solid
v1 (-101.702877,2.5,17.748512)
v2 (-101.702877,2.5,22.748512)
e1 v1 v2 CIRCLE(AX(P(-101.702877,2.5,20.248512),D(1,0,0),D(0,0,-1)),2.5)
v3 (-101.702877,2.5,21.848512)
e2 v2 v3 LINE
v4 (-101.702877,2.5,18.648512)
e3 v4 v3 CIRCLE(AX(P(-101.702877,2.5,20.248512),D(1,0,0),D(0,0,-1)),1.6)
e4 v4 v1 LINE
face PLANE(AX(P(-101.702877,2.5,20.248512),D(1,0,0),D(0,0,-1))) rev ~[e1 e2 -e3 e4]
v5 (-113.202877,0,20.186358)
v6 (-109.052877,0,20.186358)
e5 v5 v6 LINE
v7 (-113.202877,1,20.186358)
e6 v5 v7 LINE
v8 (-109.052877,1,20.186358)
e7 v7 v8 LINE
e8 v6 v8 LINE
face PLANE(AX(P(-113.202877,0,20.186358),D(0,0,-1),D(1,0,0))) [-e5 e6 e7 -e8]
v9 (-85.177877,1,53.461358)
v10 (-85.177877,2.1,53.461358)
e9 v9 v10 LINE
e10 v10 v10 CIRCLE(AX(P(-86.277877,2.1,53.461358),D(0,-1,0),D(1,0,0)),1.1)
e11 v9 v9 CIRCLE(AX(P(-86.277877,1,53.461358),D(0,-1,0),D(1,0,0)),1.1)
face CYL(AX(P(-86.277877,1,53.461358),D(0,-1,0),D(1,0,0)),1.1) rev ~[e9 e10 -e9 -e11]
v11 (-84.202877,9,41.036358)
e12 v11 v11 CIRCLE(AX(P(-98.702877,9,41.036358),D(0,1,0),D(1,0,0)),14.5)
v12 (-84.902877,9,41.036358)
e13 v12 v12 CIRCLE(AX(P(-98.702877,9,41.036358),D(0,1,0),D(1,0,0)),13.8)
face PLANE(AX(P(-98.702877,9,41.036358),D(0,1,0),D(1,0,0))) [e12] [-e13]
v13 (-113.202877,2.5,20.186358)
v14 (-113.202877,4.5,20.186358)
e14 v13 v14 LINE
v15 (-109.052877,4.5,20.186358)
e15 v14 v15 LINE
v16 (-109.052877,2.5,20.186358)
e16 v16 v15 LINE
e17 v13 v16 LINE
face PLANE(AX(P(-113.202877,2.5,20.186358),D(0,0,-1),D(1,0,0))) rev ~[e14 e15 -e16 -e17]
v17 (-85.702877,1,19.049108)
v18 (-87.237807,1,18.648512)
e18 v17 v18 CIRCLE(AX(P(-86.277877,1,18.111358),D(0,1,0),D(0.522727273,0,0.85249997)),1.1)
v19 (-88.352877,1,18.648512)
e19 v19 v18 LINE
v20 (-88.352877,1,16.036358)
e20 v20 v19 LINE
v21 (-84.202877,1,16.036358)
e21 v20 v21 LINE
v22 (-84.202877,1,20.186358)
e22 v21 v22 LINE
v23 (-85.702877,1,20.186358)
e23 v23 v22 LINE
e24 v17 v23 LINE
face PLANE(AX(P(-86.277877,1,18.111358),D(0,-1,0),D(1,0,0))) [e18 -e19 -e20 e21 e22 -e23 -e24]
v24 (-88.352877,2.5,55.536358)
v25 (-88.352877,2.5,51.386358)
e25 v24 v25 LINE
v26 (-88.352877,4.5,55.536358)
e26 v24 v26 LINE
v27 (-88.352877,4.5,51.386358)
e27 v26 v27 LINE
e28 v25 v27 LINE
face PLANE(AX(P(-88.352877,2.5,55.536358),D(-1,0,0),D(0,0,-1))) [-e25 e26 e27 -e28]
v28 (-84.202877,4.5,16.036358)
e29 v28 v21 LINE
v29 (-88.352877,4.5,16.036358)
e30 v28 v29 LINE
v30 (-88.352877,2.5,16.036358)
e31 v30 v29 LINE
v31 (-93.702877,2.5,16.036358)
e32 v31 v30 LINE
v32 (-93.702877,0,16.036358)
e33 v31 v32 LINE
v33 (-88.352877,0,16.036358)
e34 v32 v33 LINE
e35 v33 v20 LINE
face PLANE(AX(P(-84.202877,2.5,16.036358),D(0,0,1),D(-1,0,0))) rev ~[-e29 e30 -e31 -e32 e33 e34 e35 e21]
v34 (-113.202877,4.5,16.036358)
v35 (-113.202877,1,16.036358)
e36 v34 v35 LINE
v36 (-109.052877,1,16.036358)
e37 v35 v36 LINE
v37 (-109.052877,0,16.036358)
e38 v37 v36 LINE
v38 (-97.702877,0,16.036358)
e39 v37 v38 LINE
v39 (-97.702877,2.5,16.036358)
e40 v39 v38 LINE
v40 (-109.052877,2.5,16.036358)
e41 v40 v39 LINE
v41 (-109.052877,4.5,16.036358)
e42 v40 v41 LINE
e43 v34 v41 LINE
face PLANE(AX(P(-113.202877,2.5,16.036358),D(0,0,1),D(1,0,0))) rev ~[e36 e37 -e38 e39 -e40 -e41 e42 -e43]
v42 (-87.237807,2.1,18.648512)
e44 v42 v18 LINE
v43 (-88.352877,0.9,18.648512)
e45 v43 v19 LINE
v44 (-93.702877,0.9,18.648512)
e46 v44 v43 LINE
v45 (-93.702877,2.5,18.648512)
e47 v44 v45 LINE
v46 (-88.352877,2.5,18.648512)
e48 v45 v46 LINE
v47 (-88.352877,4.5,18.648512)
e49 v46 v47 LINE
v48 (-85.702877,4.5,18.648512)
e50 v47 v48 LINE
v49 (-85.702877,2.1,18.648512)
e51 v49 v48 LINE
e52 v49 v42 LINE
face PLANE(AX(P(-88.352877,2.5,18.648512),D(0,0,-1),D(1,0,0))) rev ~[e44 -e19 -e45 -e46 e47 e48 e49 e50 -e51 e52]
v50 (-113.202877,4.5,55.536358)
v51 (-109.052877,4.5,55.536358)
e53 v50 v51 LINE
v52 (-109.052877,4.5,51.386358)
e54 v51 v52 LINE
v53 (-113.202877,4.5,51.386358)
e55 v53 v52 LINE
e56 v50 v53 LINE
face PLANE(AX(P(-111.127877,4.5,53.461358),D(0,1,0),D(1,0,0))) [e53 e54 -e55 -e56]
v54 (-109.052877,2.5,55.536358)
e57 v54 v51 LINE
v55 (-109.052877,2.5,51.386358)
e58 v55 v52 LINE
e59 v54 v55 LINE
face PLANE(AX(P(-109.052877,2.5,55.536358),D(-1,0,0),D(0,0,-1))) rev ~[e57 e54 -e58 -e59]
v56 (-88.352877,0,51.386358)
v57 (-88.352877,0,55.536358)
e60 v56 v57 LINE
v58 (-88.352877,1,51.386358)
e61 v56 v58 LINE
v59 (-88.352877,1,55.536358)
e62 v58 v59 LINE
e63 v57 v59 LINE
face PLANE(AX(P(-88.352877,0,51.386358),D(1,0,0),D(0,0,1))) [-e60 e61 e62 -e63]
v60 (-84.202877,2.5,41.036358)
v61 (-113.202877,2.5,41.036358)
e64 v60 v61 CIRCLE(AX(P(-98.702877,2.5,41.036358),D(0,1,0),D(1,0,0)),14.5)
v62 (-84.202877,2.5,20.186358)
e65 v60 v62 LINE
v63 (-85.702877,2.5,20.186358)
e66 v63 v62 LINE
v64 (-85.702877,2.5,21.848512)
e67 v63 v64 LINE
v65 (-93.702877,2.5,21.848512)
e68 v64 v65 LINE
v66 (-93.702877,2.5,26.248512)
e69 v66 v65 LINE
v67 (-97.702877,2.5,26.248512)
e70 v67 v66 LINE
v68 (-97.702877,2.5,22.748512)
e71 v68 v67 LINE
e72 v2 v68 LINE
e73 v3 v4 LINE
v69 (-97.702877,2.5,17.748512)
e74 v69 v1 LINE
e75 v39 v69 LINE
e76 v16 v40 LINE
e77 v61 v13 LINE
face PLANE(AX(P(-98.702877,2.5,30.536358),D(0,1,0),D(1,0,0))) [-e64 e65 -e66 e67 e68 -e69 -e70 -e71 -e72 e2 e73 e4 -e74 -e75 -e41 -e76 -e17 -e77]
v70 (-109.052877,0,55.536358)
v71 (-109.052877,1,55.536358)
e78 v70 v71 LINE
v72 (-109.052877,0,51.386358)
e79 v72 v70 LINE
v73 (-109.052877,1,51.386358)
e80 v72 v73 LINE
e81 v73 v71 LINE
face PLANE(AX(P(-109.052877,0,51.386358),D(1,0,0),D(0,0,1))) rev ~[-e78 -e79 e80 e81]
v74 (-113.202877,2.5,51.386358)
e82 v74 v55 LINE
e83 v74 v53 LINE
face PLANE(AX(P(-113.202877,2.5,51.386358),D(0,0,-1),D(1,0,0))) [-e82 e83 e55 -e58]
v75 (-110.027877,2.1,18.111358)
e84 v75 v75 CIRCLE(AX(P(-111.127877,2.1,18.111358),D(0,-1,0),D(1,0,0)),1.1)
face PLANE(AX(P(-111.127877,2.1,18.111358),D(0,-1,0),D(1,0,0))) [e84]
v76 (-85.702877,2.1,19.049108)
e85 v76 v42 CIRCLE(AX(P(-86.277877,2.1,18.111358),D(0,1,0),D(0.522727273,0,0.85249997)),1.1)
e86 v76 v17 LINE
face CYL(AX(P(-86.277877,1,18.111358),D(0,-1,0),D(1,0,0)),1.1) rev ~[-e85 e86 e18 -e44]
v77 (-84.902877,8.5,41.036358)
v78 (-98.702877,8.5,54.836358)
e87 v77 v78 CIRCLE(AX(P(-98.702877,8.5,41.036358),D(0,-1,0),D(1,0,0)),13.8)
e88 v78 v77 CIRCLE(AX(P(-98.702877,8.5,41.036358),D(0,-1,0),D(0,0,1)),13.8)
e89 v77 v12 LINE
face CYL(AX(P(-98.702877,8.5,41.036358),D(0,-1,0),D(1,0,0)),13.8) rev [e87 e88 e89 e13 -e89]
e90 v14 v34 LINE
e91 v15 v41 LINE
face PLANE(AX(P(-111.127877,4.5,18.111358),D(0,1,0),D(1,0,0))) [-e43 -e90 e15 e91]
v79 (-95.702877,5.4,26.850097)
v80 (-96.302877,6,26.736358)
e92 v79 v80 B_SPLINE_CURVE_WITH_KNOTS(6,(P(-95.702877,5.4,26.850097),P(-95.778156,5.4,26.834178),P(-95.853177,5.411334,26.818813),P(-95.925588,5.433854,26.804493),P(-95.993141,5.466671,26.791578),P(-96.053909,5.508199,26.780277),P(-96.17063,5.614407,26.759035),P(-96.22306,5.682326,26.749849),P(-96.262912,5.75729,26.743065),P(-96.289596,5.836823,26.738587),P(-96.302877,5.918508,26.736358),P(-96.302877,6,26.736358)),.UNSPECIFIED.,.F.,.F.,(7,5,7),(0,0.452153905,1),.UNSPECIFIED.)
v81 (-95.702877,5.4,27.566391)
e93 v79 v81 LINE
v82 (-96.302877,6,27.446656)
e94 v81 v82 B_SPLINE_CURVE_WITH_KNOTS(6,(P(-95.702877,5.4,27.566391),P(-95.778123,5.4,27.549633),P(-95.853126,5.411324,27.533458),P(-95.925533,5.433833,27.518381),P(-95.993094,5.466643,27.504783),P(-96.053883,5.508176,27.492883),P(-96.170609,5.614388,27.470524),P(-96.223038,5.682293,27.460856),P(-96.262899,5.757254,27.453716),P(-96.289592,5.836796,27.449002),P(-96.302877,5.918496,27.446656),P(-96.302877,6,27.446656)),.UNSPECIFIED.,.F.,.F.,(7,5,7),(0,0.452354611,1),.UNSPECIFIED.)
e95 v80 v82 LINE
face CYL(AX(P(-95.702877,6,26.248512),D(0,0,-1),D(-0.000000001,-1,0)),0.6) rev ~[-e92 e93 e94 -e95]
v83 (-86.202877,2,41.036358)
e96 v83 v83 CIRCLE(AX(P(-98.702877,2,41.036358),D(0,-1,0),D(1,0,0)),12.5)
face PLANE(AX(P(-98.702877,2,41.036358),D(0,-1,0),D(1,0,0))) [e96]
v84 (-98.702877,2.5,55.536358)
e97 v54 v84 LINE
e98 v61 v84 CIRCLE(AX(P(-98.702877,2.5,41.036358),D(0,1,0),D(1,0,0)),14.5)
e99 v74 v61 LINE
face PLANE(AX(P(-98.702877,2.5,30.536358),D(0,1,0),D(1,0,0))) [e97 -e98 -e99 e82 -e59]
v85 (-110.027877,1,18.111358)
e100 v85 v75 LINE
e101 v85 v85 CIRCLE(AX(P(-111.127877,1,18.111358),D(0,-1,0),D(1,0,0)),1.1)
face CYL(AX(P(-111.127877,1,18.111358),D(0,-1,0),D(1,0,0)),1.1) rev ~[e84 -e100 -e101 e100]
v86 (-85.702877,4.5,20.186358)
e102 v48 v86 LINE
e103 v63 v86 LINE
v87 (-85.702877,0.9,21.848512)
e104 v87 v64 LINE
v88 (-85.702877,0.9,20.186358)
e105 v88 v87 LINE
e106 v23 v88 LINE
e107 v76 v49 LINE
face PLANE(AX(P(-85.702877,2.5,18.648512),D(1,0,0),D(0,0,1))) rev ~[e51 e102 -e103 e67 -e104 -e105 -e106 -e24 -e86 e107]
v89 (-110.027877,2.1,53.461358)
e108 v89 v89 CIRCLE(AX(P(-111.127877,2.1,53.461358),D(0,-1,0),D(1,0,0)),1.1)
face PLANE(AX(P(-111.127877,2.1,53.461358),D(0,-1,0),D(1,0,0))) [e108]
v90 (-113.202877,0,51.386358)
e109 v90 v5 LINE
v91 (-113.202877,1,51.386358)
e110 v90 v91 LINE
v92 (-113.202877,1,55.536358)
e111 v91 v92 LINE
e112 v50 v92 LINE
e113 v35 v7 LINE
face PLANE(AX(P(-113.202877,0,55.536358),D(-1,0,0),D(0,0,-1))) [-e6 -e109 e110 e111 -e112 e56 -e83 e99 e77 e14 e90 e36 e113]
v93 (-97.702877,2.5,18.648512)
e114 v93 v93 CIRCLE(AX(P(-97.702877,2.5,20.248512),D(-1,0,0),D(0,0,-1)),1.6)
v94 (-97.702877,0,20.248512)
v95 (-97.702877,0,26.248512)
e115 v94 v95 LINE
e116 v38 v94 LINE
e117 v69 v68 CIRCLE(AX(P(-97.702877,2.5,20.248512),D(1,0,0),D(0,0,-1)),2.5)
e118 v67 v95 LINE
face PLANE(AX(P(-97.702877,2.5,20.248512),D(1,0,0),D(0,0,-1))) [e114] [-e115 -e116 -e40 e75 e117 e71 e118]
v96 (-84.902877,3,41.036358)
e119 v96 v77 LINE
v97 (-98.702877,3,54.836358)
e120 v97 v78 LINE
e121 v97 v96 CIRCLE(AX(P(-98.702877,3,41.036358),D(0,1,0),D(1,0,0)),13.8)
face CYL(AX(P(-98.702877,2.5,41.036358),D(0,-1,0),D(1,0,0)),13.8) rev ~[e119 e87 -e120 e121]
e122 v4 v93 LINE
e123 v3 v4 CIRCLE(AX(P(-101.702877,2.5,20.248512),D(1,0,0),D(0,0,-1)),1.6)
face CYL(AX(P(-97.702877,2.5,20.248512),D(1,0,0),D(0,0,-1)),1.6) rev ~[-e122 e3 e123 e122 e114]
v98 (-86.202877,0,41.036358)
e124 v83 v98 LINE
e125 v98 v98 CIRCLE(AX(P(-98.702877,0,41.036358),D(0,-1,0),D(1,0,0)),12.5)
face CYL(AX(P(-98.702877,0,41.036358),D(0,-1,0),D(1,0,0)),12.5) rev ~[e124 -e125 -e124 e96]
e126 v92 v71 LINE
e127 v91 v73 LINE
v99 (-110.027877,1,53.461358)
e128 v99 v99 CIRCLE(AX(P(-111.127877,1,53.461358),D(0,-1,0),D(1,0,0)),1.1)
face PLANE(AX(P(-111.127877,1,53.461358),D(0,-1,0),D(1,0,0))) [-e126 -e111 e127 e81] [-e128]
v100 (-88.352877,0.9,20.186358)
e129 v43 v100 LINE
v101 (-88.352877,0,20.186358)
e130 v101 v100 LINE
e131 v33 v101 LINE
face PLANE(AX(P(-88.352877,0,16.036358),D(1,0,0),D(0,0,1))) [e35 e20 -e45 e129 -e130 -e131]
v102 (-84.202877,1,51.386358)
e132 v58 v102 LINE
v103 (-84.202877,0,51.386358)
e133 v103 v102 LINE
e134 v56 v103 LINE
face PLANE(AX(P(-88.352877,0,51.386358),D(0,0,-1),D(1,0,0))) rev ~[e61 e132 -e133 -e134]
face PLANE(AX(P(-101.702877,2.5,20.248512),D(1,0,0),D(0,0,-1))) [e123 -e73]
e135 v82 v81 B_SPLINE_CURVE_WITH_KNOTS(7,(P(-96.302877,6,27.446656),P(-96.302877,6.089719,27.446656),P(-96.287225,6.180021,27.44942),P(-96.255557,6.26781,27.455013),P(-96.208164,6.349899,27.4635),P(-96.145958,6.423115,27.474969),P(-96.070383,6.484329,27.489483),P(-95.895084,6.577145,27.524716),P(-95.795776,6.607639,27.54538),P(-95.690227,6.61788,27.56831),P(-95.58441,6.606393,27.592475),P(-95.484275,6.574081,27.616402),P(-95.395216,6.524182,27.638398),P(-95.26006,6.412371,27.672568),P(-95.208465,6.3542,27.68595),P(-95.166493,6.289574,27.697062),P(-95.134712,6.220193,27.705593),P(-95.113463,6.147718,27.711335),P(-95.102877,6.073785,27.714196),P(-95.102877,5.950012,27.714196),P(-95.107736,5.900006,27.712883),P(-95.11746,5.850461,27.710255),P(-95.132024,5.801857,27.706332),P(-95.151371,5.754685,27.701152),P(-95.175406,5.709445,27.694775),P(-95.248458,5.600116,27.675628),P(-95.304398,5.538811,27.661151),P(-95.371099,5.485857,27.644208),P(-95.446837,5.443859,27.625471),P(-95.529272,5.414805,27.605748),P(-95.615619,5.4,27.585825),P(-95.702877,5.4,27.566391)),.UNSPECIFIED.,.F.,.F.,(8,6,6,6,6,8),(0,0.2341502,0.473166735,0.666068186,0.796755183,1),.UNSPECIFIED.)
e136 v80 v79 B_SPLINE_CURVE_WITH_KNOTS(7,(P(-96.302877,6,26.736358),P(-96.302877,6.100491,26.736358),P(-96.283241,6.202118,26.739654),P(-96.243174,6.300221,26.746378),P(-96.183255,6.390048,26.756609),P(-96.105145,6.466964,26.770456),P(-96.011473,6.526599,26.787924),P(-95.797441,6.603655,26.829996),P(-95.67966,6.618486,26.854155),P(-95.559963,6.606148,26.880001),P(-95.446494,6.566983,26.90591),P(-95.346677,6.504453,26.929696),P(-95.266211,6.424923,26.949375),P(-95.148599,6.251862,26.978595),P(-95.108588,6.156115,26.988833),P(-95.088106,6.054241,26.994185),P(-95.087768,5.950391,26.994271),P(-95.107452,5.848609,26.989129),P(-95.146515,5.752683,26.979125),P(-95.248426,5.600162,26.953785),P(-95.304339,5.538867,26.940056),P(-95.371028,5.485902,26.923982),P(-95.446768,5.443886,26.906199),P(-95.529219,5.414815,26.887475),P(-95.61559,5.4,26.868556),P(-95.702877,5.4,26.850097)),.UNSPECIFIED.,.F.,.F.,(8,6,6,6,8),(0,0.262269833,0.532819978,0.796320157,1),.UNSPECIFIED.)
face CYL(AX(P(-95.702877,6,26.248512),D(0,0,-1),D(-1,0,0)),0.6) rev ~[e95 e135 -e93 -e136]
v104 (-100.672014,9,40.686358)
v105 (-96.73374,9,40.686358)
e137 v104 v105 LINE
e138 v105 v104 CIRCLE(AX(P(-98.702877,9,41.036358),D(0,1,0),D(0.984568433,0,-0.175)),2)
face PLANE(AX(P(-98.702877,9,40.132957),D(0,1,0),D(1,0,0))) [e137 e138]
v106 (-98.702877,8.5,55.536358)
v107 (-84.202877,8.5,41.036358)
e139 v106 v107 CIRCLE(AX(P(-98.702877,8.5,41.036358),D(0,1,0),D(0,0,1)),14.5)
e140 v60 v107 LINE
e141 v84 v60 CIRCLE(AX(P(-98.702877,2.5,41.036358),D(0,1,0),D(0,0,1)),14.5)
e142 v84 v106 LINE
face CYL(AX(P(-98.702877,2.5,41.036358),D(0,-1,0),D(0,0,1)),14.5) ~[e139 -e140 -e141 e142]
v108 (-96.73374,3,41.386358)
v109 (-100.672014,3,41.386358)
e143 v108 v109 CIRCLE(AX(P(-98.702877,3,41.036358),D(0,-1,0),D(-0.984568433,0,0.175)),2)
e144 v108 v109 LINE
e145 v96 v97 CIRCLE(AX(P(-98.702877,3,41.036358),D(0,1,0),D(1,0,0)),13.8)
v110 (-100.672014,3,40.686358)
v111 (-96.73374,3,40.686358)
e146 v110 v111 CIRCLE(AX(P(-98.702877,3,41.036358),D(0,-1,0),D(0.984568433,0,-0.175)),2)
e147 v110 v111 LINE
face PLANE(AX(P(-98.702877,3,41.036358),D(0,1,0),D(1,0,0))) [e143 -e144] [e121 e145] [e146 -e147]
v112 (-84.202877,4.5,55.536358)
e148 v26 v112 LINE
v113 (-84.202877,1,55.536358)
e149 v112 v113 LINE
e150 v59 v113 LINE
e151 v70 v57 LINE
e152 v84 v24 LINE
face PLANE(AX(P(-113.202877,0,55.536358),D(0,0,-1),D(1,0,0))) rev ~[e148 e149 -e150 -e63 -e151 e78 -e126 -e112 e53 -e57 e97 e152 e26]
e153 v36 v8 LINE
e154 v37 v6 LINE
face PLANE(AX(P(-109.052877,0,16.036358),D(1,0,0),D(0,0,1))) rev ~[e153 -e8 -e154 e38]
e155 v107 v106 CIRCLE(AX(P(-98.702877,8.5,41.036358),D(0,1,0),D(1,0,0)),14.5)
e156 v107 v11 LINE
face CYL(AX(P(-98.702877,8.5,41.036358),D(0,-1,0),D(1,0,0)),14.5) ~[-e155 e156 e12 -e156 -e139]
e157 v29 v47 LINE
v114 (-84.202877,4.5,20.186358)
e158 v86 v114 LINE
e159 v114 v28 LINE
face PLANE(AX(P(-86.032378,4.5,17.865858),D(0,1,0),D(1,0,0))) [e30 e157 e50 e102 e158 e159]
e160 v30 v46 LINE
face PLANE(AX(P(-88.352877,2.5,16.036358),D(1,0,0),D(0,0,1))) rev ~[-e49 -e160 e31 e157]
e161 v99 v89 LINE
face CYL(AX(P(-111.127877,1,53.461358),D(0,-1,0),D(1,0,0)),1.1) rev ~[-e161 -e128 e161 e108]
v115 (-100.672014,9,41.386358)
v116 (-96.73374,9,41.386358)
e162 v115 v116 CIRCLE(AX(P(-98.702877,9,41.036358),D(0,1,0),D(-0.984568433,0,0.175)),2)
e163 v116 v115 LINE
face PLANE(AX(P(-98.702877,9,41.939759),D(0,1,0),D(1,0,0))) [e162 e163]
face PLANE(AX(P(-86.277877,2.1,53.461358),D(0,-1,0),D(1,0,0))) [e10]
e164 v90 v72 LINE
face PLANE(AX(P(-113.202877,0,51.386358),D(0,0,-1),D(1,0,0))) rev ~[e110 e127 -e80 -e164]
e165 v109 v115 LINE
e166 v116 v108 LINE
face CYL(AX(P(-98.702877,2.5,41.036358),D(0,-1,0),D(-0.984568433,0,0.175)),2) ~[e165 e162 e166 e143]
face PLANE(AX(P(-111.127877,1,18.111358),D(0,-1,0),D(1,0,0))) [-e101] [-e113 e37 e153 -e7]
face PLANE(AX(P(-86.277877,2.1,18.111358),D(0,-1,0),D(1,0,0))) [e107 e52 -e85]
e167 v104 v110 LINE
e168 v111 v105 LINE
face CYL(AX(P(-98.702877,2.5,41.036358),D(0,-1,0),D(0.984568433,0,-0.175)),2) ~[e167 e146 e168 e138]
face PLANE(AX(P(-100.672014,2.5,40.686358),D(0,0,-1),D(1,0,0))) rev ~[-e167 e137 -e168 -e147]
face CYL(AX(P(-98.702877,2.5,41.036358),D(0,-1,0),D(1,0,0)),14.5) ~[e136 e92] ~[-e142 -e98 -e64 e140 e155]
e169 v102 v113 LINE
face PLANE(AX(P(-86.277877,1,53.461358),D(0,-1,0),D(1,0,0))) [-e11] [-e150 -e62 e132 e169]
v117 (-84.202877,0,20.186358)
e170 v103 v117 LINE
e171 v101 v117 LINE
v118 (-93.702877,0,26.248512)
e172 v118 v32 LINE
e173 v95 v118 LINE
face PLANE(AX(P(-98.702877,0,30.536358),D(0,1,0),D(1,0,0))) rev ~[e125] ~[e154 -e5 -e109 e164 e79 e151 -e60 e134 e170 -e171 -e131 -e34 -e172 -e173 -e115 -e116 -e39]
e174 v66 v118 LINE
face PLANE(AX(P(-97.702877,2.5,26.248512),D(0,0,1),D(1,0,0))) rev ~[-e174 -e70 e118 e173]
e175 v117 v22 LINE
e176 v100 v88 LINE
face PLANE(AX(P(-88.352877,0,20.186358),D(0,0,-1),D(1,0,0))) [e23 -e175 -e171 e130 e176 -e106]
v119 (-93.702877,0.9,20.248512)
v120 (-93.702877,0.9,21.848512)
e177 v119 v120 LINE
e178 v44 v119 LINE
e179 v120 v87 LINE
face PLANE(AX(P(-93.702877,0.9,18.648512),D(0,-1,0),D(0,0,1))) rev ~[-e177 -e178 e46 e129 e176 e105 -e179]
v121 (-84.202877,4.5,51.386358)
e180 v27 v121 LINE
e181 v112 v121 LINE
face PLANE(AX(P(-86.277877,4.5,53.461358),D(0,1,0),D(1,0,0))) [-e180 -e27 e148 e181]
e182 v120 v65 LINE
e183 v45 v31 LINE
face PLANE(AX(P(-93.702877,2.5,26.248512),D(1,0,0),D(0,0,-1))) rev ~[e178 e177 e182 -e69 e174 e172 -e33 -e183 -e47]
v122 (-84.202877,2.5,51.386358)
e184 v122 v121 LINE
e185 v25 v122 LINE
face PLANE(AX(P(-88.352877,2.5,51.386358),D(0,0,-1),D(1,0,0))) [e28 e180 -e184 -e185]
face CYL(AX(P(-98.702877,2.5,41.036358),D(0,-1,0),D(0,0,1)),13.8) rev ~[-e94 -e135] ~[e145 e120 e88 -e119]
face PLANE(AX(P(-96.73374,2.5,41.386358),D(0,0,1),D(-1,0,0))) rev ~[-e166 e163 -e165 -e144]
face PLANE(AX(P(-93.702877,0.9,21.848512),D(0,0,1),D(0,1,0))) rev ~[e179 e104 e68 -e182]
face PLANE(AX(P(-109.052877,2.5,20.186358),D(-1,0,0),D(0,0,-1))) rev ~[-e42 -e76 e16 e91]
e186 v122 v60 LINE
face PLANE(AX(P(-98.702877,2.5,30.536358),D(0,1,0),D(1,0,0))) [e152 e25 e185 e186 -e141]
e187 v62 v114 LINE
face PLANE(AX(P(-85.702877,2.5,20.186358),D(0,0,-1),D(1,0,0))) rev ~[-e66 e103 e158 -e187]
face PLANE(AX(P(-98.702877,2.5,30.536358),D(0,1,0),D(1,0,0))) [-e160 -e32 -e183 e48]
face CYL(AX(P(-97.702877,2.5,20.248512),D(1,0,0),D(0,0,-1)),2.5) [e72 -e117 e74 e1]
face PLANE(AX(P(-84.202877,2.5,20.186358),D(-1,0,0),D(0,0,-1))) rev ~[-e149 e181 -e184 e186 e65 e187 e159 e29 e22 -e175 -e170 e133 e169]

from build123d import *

# Parameters (mm, degrees)
SKETCH1_W               = 29
SKETCH1_H               = 50
BOSS_EXTRUDE1_DEPTH     = 2.5
BOSS_EXTRUDE3_DEPTH     = 6
BOSS_EXTRUDE4_DEPTH     = 6
CUT_EXTRUDE1_DEPTH      = 6
CUT_EXTRUDE2_DEPTH      = 6
CUT_EXTRUDE3_DEPTH      = 10
CUT_EXTRUDE3_DEPTH_BACK = 4
SKETCH6_R               = 1.6
SKETCH7_R               = 2.5
SKETCH7_R_2             = 1.6
BOSS_EXTRUDE6_DEPTH     = 4
SKETCH8_W               = 3.2
SKETCH8_H               = 1.6
CUT_EXTRUDE4_DEPTH      = 8
CUT_EXTRUDE5_DEPTH      = 5
SKETCH10_R              = 12.5
SKETCH10_W              = 4.15
SKETCH10_H              = 4.15
CUT_EXTRUDE7_DEPTH      = 1
SKETCH11_W              = 4.15
SKETCH11_H              = 4.15
BOSS_EXTRUDE7_DEPTH     = 2
SKETCH13_R              = 1.1
CUT_EXTRUDE8_DEPTH      = 1.1
SKETCH14_R              = 12.5
CUT_EXTRUDE9_DEPTH      = 1
SKETCH15_R              = 13.8
BOSS_EXTRUDE8_DEPTH     = 0.5
SKETCH16_R              = 14.5
SKETCH16_R_2            = 13.8
BOSS_EXTRUDE9_DEPTH     = 0.5


with BuildPart() as part:
    # Sketch1 → Boss-Extrude1 (new body)
    with BuildSketch(Plane(origin=(0, 0, 0), x_dir=(1, 0, 0), z_dir=(0, 1, 0))):
        with Locations((-98.70287726, -30.536357795)):
            Rectangle(SKETCH1_W, SKETCH1_H)
    extrude(amount=BOSS_EXTRUDE1_DEPTH)

    # Sketch2 → Boss-Extrude3 (add)
    with BuildSketch(Plane(origin=(0, 2.5, 0), x_dir=(1, 0, 0), z_dir=(0, 1, 0))):
        with BuildLine():
            ThreePointArc((-84.20287726, -41.036357795), (-108.955925587, -30.783309468), (-98.70287726, -55.536357795))
            ThreePointArc((-98.70287726, -55.536357795), (-88.449828932, -51.289406123), (-84.20287726, -41.036357795))
        make_face()
        with BuildLine():
            ThreePointArc((-84.90287726, -41.036357795), (-88.944803679, -50.794431376), (-98.70287726, -54.836357795))
            ThreePointArc((-98.70287726, -54.836357795), (-108.46095084, -31.278284215), (-84.90287726, -41.036357795))
        make_face(mode=Mode.SUBTRACT)
    extrude(amount=BOSS_EXTRUDE3_DEPTH)

    # Sketch3 → Boss-Extrude4 (add)
    with BuildSketch(Plane(origin=(0, 2.5, 0), x_dir=(1, 0, 0), z_dir=(0, 1, 0))):
        with BuildLine():
            Line((-100.672014126, -40.686357795), (-96.733740393, -40.686357795))
            ThreePointArc((-96.733740393, -40.686357795), (-98.70287726, -39.036357795), (-100.672014126, -40.686357795))
        make_face()
        with BuildLine():
            Line((-96.733740393, -41.386357795), (-100.672014126, -41.386357795))
            ThreePointArc((-100.672014126, -41.386357795), (-98.70287726, -43.036357795), (-96.733740393, -41.386357795))
        make_face()
    extrude(amount=BOSS_EXTRUDE4_DEPTH)

    # Sketch4 → Cut-Extrude1 (cut)
    with BuildSketch(Plane(origin=(0, 2.5, 0), x_dir=(1, 0, 0), z_dir=(0, 1, 0))):
        Polygon((-97.70287726, -14.248512358), (-97.70287726, -20.248512358), (-97.70287726, -26.248512358), (-93.70287726, -26.248512358), (-93.70287726, -14.248512358), align=None)
    extrude(amount=-CUT_EXTRUDE1_DEPTH, mode=Mode.SUBTRACT)

    # Sketch5 → Cut-Extrude2 (cut)
    with BuildSketch(Plane(origin=(0, 0, 26.248512358), x_dir=(-1, 0, 0), z_dir=(0, 0, -1))):
        with BuildLine():
            ThreePointArc((95.70287726, 5.4), (96.127141328, 5.575735931), (96.30287726, 6))
            ThreePointArc((96.30287726, 6), (95.278613191, 6.424264069), (95.70287726, 5.4))
        make_face()
    extrude(amount=-CUT_EXTRUDE2_DEPTH, mode=Mode.SUBTRACT)

    # Sketch6 → Cut-Extrude3 (cut, two sides: drawn at the far end of the back side and taken through both)
    with BuildSketch(Plane(origin=(-97.70287726, 0, 0), x_dir=(0, 0, -1), z_dir=(1, 0, 0)).offset(-CUT_EXTRUDE3_DEPTH_BACK)):
        with Locations((-20.248512358, 2.5)):
            Circle(SKETCH6_R)
    extrude(amount=CUT_EXTRUDE3_DEPTH + CUT_EXTRUDE3_DEPTH_BACK, mode=Mode.SUBTRACT)

    # Sketch7 → Boss-Extrude6 (add)
    with BuildSketch(Plane(origin=(-97.70287726, 0, 0), x_dir=(0, 0, -1), z_dir=(1, 0, 0))):
        with Locations((-20.248512358, 2.5)):
            Circle(SKETCH7_R)
        with Locations((-20.248512358, 2.5)):
            Circle(SKETCH7_R_2, mode=Mode.SUBTRACT)
    extrude(amount=-BOSS_EXTRUDE6_DEPTH)

    # Sketch8 → Cut-Extrude4 (cut)
    with BuildSketch(Plane.ZY.offset(93.70287726)):
        with Locations((20.248512358, 1.7)):
            Rectangle(SKETCH8_W, SKETCH8_H)
    extrude(amount=-CUT_EXTRUDE4_DEPTH, mode=Mode.SUBTRACT)

    # Sketch9 → Cut-Extrude5 (cut)
    with BuildSketch(Plane(origin=(0, 2.5, 0), x_dir=(1, 0, 0), z_dir=(0, 1, 0))):
        Polygon((-113.20287726, -5.536357795), (-113.20287726, -16.036357795), (-97.70287726, -16.036357795), (-97.70287726, -14.248512358), (-93.70287726, -14.248512358), (-93.70287726, -16.036357795), (-84.20287726, -16.036357795), (-84.20287726, -5.536357795), align=None)
    extrude(amount=-CUT_EXTRUDE5_DEPTH, mode=Mode.SUBTRACT)

    # Sketch10 → Cut-Extrude7 (cut)
    with BuildSketch(Plane.XZ):
        with Locations((-98.70287726, 41.036357795)):
            Circle(SKETCH10_R)
        with Locations((-86.27787726, 18.111357795)):
            Rectangle(SKETCH10_W, SKETCH10_H)
        with Locations((-86.27787726, 53.461357795)):
            Rectangle(SKETCH10_W, SKETCH10_H)
        with Locations((-111.12787726, 18.111357795)):
            Rectangle(SKETCH10_W, SKETCH10_H)
        with Locations((-111.12787726, 53.461357795)):
            Rectangle(SKETCH10_W, SKETCH10_H)
    extrude(amount=-CUT_EXTRUDE7_DEPTH, mode=Mode.SUBTRACT)

    # Sketch11 → Boss-Extrude7 (add)
    with BuildSketch(Plane(origin=(0, 2.5, 0), x_dir=(1, 0, 0), z_dir=(0, 1, 0))):
        Polygon((-88.35287726, -16.036357795), (-88.35287726, -18.648512358), (-85.70287726, -18.648512358), (-85.70287726, -20.186357795), (-84.20287726, -20.186357795), (-84.20287726, -16.036357795), align=None)
        with Locations((-111.12787726, -53.461357795)):
            Rectangle(SKETCH11_W, SKETCH11_H)
        with Locations((-86.27787726, -53.461357795)):
            Rectangle(SKETCH11_W, SKETCH11_H)
        with Locations((-111.12787726, -18.111357795)):
            Rectangle(SKETCH11_W, SKETCH11_H)
    extrude(amount=BOSS_EXTRUDE7_DEPTH)

    # Sketch13 → Cut-Extrude8 (cut)
    with BuildSketch(Plane.XZ.offset(-1)):
        with Locations((-111.12787726, 53.461357795)):
            Circle(SKETCH13_R)
        with Locations((-86.27787726, 53.461357795)):
            Circle(SKETCH13_R)
        with Locations((-111.12787726, 18.111357795)):
            Circle(SKETCH13_R)
        with Locations((-86.27787726, 18.111357795)):
            Circle(SKETCH13_R)
    extrude(amount=-CUT_EXTRUDE8_DEPTH, mode=Mode.SUBTRACT)

    # Sketch14 → Cut-Extrude9 (cut)
    with BuildSketch(Plane.XZ.offset(-1)):
        with Locations((-98.70287726, 41.036357795)):
            Circle(SKETCH14_R)
    extrude(amount=-CUT_EXTRUDE9_DEPTH, mode=Mode.SUBTRACT)

    # Sketch15 → Boss-Extrude8 (add)
    with BuildSketch(Plane(origin=(0, 2.5, 0), x_dir=(1, 0, 0), z_dir=(0, 1, 0))):
        with Locations((-98.70287726, -41.036357795)):
            Circle(SKETCH15_R)
    extrude(amount=BOSS_EXTRUDE8_DEPTH)

    # Sketch16 → Boss-Extrude9 (add)
    # profile 1 of 3: a face of its own
    with BuildSketch(Plane(origin=(0, 8.5, 0), x_dir=(1, 0, 0), z_dir=(0, 1, 0))):
        with Locations((-98.70287726, -41.036357795)):
            Circle(SKETCH16_R)
        with Locations((-98.70287726, -41.036357795)):
            Circle(SKETCH16_R_2, mode=Mode.SUBTRACT)
    # profile 2 of 3: a face of its own
    with BuildSketch(Plane(origin=(0, 8.5, 0), x_dir=(1, 0, 0), z_dir=(0, 1, 0))):
        with BuildLine():
            ThreePointArc((-96.733740393, -40.686357795), (-98.70287726, -39.036357795), (-100.672014126, -40.686357795))
            Line((-100.672014126, -40.686357795), (-96.733740393, -40.686357795))
        make_face()
    # profile 3 of 3: a face of its own
    with BuildSketch(Plane(origin=(0, 8.5, 0), x_dir=(1, 0, 0), z_dir=(0, 1, 0))):
        with BuildLine():
            ThreePointArc((-100.672014126, -41.386357795), (-98.70287726, -43.036357795), (-96.733740393, -41.386357795))
            Line((-96.733740393, -41.386357795), (-100.672014126, -41.386357795))
        make_face()
    extrude(amount=BOSS_EXTRUDE9_DEPTH)


solid = part.part
